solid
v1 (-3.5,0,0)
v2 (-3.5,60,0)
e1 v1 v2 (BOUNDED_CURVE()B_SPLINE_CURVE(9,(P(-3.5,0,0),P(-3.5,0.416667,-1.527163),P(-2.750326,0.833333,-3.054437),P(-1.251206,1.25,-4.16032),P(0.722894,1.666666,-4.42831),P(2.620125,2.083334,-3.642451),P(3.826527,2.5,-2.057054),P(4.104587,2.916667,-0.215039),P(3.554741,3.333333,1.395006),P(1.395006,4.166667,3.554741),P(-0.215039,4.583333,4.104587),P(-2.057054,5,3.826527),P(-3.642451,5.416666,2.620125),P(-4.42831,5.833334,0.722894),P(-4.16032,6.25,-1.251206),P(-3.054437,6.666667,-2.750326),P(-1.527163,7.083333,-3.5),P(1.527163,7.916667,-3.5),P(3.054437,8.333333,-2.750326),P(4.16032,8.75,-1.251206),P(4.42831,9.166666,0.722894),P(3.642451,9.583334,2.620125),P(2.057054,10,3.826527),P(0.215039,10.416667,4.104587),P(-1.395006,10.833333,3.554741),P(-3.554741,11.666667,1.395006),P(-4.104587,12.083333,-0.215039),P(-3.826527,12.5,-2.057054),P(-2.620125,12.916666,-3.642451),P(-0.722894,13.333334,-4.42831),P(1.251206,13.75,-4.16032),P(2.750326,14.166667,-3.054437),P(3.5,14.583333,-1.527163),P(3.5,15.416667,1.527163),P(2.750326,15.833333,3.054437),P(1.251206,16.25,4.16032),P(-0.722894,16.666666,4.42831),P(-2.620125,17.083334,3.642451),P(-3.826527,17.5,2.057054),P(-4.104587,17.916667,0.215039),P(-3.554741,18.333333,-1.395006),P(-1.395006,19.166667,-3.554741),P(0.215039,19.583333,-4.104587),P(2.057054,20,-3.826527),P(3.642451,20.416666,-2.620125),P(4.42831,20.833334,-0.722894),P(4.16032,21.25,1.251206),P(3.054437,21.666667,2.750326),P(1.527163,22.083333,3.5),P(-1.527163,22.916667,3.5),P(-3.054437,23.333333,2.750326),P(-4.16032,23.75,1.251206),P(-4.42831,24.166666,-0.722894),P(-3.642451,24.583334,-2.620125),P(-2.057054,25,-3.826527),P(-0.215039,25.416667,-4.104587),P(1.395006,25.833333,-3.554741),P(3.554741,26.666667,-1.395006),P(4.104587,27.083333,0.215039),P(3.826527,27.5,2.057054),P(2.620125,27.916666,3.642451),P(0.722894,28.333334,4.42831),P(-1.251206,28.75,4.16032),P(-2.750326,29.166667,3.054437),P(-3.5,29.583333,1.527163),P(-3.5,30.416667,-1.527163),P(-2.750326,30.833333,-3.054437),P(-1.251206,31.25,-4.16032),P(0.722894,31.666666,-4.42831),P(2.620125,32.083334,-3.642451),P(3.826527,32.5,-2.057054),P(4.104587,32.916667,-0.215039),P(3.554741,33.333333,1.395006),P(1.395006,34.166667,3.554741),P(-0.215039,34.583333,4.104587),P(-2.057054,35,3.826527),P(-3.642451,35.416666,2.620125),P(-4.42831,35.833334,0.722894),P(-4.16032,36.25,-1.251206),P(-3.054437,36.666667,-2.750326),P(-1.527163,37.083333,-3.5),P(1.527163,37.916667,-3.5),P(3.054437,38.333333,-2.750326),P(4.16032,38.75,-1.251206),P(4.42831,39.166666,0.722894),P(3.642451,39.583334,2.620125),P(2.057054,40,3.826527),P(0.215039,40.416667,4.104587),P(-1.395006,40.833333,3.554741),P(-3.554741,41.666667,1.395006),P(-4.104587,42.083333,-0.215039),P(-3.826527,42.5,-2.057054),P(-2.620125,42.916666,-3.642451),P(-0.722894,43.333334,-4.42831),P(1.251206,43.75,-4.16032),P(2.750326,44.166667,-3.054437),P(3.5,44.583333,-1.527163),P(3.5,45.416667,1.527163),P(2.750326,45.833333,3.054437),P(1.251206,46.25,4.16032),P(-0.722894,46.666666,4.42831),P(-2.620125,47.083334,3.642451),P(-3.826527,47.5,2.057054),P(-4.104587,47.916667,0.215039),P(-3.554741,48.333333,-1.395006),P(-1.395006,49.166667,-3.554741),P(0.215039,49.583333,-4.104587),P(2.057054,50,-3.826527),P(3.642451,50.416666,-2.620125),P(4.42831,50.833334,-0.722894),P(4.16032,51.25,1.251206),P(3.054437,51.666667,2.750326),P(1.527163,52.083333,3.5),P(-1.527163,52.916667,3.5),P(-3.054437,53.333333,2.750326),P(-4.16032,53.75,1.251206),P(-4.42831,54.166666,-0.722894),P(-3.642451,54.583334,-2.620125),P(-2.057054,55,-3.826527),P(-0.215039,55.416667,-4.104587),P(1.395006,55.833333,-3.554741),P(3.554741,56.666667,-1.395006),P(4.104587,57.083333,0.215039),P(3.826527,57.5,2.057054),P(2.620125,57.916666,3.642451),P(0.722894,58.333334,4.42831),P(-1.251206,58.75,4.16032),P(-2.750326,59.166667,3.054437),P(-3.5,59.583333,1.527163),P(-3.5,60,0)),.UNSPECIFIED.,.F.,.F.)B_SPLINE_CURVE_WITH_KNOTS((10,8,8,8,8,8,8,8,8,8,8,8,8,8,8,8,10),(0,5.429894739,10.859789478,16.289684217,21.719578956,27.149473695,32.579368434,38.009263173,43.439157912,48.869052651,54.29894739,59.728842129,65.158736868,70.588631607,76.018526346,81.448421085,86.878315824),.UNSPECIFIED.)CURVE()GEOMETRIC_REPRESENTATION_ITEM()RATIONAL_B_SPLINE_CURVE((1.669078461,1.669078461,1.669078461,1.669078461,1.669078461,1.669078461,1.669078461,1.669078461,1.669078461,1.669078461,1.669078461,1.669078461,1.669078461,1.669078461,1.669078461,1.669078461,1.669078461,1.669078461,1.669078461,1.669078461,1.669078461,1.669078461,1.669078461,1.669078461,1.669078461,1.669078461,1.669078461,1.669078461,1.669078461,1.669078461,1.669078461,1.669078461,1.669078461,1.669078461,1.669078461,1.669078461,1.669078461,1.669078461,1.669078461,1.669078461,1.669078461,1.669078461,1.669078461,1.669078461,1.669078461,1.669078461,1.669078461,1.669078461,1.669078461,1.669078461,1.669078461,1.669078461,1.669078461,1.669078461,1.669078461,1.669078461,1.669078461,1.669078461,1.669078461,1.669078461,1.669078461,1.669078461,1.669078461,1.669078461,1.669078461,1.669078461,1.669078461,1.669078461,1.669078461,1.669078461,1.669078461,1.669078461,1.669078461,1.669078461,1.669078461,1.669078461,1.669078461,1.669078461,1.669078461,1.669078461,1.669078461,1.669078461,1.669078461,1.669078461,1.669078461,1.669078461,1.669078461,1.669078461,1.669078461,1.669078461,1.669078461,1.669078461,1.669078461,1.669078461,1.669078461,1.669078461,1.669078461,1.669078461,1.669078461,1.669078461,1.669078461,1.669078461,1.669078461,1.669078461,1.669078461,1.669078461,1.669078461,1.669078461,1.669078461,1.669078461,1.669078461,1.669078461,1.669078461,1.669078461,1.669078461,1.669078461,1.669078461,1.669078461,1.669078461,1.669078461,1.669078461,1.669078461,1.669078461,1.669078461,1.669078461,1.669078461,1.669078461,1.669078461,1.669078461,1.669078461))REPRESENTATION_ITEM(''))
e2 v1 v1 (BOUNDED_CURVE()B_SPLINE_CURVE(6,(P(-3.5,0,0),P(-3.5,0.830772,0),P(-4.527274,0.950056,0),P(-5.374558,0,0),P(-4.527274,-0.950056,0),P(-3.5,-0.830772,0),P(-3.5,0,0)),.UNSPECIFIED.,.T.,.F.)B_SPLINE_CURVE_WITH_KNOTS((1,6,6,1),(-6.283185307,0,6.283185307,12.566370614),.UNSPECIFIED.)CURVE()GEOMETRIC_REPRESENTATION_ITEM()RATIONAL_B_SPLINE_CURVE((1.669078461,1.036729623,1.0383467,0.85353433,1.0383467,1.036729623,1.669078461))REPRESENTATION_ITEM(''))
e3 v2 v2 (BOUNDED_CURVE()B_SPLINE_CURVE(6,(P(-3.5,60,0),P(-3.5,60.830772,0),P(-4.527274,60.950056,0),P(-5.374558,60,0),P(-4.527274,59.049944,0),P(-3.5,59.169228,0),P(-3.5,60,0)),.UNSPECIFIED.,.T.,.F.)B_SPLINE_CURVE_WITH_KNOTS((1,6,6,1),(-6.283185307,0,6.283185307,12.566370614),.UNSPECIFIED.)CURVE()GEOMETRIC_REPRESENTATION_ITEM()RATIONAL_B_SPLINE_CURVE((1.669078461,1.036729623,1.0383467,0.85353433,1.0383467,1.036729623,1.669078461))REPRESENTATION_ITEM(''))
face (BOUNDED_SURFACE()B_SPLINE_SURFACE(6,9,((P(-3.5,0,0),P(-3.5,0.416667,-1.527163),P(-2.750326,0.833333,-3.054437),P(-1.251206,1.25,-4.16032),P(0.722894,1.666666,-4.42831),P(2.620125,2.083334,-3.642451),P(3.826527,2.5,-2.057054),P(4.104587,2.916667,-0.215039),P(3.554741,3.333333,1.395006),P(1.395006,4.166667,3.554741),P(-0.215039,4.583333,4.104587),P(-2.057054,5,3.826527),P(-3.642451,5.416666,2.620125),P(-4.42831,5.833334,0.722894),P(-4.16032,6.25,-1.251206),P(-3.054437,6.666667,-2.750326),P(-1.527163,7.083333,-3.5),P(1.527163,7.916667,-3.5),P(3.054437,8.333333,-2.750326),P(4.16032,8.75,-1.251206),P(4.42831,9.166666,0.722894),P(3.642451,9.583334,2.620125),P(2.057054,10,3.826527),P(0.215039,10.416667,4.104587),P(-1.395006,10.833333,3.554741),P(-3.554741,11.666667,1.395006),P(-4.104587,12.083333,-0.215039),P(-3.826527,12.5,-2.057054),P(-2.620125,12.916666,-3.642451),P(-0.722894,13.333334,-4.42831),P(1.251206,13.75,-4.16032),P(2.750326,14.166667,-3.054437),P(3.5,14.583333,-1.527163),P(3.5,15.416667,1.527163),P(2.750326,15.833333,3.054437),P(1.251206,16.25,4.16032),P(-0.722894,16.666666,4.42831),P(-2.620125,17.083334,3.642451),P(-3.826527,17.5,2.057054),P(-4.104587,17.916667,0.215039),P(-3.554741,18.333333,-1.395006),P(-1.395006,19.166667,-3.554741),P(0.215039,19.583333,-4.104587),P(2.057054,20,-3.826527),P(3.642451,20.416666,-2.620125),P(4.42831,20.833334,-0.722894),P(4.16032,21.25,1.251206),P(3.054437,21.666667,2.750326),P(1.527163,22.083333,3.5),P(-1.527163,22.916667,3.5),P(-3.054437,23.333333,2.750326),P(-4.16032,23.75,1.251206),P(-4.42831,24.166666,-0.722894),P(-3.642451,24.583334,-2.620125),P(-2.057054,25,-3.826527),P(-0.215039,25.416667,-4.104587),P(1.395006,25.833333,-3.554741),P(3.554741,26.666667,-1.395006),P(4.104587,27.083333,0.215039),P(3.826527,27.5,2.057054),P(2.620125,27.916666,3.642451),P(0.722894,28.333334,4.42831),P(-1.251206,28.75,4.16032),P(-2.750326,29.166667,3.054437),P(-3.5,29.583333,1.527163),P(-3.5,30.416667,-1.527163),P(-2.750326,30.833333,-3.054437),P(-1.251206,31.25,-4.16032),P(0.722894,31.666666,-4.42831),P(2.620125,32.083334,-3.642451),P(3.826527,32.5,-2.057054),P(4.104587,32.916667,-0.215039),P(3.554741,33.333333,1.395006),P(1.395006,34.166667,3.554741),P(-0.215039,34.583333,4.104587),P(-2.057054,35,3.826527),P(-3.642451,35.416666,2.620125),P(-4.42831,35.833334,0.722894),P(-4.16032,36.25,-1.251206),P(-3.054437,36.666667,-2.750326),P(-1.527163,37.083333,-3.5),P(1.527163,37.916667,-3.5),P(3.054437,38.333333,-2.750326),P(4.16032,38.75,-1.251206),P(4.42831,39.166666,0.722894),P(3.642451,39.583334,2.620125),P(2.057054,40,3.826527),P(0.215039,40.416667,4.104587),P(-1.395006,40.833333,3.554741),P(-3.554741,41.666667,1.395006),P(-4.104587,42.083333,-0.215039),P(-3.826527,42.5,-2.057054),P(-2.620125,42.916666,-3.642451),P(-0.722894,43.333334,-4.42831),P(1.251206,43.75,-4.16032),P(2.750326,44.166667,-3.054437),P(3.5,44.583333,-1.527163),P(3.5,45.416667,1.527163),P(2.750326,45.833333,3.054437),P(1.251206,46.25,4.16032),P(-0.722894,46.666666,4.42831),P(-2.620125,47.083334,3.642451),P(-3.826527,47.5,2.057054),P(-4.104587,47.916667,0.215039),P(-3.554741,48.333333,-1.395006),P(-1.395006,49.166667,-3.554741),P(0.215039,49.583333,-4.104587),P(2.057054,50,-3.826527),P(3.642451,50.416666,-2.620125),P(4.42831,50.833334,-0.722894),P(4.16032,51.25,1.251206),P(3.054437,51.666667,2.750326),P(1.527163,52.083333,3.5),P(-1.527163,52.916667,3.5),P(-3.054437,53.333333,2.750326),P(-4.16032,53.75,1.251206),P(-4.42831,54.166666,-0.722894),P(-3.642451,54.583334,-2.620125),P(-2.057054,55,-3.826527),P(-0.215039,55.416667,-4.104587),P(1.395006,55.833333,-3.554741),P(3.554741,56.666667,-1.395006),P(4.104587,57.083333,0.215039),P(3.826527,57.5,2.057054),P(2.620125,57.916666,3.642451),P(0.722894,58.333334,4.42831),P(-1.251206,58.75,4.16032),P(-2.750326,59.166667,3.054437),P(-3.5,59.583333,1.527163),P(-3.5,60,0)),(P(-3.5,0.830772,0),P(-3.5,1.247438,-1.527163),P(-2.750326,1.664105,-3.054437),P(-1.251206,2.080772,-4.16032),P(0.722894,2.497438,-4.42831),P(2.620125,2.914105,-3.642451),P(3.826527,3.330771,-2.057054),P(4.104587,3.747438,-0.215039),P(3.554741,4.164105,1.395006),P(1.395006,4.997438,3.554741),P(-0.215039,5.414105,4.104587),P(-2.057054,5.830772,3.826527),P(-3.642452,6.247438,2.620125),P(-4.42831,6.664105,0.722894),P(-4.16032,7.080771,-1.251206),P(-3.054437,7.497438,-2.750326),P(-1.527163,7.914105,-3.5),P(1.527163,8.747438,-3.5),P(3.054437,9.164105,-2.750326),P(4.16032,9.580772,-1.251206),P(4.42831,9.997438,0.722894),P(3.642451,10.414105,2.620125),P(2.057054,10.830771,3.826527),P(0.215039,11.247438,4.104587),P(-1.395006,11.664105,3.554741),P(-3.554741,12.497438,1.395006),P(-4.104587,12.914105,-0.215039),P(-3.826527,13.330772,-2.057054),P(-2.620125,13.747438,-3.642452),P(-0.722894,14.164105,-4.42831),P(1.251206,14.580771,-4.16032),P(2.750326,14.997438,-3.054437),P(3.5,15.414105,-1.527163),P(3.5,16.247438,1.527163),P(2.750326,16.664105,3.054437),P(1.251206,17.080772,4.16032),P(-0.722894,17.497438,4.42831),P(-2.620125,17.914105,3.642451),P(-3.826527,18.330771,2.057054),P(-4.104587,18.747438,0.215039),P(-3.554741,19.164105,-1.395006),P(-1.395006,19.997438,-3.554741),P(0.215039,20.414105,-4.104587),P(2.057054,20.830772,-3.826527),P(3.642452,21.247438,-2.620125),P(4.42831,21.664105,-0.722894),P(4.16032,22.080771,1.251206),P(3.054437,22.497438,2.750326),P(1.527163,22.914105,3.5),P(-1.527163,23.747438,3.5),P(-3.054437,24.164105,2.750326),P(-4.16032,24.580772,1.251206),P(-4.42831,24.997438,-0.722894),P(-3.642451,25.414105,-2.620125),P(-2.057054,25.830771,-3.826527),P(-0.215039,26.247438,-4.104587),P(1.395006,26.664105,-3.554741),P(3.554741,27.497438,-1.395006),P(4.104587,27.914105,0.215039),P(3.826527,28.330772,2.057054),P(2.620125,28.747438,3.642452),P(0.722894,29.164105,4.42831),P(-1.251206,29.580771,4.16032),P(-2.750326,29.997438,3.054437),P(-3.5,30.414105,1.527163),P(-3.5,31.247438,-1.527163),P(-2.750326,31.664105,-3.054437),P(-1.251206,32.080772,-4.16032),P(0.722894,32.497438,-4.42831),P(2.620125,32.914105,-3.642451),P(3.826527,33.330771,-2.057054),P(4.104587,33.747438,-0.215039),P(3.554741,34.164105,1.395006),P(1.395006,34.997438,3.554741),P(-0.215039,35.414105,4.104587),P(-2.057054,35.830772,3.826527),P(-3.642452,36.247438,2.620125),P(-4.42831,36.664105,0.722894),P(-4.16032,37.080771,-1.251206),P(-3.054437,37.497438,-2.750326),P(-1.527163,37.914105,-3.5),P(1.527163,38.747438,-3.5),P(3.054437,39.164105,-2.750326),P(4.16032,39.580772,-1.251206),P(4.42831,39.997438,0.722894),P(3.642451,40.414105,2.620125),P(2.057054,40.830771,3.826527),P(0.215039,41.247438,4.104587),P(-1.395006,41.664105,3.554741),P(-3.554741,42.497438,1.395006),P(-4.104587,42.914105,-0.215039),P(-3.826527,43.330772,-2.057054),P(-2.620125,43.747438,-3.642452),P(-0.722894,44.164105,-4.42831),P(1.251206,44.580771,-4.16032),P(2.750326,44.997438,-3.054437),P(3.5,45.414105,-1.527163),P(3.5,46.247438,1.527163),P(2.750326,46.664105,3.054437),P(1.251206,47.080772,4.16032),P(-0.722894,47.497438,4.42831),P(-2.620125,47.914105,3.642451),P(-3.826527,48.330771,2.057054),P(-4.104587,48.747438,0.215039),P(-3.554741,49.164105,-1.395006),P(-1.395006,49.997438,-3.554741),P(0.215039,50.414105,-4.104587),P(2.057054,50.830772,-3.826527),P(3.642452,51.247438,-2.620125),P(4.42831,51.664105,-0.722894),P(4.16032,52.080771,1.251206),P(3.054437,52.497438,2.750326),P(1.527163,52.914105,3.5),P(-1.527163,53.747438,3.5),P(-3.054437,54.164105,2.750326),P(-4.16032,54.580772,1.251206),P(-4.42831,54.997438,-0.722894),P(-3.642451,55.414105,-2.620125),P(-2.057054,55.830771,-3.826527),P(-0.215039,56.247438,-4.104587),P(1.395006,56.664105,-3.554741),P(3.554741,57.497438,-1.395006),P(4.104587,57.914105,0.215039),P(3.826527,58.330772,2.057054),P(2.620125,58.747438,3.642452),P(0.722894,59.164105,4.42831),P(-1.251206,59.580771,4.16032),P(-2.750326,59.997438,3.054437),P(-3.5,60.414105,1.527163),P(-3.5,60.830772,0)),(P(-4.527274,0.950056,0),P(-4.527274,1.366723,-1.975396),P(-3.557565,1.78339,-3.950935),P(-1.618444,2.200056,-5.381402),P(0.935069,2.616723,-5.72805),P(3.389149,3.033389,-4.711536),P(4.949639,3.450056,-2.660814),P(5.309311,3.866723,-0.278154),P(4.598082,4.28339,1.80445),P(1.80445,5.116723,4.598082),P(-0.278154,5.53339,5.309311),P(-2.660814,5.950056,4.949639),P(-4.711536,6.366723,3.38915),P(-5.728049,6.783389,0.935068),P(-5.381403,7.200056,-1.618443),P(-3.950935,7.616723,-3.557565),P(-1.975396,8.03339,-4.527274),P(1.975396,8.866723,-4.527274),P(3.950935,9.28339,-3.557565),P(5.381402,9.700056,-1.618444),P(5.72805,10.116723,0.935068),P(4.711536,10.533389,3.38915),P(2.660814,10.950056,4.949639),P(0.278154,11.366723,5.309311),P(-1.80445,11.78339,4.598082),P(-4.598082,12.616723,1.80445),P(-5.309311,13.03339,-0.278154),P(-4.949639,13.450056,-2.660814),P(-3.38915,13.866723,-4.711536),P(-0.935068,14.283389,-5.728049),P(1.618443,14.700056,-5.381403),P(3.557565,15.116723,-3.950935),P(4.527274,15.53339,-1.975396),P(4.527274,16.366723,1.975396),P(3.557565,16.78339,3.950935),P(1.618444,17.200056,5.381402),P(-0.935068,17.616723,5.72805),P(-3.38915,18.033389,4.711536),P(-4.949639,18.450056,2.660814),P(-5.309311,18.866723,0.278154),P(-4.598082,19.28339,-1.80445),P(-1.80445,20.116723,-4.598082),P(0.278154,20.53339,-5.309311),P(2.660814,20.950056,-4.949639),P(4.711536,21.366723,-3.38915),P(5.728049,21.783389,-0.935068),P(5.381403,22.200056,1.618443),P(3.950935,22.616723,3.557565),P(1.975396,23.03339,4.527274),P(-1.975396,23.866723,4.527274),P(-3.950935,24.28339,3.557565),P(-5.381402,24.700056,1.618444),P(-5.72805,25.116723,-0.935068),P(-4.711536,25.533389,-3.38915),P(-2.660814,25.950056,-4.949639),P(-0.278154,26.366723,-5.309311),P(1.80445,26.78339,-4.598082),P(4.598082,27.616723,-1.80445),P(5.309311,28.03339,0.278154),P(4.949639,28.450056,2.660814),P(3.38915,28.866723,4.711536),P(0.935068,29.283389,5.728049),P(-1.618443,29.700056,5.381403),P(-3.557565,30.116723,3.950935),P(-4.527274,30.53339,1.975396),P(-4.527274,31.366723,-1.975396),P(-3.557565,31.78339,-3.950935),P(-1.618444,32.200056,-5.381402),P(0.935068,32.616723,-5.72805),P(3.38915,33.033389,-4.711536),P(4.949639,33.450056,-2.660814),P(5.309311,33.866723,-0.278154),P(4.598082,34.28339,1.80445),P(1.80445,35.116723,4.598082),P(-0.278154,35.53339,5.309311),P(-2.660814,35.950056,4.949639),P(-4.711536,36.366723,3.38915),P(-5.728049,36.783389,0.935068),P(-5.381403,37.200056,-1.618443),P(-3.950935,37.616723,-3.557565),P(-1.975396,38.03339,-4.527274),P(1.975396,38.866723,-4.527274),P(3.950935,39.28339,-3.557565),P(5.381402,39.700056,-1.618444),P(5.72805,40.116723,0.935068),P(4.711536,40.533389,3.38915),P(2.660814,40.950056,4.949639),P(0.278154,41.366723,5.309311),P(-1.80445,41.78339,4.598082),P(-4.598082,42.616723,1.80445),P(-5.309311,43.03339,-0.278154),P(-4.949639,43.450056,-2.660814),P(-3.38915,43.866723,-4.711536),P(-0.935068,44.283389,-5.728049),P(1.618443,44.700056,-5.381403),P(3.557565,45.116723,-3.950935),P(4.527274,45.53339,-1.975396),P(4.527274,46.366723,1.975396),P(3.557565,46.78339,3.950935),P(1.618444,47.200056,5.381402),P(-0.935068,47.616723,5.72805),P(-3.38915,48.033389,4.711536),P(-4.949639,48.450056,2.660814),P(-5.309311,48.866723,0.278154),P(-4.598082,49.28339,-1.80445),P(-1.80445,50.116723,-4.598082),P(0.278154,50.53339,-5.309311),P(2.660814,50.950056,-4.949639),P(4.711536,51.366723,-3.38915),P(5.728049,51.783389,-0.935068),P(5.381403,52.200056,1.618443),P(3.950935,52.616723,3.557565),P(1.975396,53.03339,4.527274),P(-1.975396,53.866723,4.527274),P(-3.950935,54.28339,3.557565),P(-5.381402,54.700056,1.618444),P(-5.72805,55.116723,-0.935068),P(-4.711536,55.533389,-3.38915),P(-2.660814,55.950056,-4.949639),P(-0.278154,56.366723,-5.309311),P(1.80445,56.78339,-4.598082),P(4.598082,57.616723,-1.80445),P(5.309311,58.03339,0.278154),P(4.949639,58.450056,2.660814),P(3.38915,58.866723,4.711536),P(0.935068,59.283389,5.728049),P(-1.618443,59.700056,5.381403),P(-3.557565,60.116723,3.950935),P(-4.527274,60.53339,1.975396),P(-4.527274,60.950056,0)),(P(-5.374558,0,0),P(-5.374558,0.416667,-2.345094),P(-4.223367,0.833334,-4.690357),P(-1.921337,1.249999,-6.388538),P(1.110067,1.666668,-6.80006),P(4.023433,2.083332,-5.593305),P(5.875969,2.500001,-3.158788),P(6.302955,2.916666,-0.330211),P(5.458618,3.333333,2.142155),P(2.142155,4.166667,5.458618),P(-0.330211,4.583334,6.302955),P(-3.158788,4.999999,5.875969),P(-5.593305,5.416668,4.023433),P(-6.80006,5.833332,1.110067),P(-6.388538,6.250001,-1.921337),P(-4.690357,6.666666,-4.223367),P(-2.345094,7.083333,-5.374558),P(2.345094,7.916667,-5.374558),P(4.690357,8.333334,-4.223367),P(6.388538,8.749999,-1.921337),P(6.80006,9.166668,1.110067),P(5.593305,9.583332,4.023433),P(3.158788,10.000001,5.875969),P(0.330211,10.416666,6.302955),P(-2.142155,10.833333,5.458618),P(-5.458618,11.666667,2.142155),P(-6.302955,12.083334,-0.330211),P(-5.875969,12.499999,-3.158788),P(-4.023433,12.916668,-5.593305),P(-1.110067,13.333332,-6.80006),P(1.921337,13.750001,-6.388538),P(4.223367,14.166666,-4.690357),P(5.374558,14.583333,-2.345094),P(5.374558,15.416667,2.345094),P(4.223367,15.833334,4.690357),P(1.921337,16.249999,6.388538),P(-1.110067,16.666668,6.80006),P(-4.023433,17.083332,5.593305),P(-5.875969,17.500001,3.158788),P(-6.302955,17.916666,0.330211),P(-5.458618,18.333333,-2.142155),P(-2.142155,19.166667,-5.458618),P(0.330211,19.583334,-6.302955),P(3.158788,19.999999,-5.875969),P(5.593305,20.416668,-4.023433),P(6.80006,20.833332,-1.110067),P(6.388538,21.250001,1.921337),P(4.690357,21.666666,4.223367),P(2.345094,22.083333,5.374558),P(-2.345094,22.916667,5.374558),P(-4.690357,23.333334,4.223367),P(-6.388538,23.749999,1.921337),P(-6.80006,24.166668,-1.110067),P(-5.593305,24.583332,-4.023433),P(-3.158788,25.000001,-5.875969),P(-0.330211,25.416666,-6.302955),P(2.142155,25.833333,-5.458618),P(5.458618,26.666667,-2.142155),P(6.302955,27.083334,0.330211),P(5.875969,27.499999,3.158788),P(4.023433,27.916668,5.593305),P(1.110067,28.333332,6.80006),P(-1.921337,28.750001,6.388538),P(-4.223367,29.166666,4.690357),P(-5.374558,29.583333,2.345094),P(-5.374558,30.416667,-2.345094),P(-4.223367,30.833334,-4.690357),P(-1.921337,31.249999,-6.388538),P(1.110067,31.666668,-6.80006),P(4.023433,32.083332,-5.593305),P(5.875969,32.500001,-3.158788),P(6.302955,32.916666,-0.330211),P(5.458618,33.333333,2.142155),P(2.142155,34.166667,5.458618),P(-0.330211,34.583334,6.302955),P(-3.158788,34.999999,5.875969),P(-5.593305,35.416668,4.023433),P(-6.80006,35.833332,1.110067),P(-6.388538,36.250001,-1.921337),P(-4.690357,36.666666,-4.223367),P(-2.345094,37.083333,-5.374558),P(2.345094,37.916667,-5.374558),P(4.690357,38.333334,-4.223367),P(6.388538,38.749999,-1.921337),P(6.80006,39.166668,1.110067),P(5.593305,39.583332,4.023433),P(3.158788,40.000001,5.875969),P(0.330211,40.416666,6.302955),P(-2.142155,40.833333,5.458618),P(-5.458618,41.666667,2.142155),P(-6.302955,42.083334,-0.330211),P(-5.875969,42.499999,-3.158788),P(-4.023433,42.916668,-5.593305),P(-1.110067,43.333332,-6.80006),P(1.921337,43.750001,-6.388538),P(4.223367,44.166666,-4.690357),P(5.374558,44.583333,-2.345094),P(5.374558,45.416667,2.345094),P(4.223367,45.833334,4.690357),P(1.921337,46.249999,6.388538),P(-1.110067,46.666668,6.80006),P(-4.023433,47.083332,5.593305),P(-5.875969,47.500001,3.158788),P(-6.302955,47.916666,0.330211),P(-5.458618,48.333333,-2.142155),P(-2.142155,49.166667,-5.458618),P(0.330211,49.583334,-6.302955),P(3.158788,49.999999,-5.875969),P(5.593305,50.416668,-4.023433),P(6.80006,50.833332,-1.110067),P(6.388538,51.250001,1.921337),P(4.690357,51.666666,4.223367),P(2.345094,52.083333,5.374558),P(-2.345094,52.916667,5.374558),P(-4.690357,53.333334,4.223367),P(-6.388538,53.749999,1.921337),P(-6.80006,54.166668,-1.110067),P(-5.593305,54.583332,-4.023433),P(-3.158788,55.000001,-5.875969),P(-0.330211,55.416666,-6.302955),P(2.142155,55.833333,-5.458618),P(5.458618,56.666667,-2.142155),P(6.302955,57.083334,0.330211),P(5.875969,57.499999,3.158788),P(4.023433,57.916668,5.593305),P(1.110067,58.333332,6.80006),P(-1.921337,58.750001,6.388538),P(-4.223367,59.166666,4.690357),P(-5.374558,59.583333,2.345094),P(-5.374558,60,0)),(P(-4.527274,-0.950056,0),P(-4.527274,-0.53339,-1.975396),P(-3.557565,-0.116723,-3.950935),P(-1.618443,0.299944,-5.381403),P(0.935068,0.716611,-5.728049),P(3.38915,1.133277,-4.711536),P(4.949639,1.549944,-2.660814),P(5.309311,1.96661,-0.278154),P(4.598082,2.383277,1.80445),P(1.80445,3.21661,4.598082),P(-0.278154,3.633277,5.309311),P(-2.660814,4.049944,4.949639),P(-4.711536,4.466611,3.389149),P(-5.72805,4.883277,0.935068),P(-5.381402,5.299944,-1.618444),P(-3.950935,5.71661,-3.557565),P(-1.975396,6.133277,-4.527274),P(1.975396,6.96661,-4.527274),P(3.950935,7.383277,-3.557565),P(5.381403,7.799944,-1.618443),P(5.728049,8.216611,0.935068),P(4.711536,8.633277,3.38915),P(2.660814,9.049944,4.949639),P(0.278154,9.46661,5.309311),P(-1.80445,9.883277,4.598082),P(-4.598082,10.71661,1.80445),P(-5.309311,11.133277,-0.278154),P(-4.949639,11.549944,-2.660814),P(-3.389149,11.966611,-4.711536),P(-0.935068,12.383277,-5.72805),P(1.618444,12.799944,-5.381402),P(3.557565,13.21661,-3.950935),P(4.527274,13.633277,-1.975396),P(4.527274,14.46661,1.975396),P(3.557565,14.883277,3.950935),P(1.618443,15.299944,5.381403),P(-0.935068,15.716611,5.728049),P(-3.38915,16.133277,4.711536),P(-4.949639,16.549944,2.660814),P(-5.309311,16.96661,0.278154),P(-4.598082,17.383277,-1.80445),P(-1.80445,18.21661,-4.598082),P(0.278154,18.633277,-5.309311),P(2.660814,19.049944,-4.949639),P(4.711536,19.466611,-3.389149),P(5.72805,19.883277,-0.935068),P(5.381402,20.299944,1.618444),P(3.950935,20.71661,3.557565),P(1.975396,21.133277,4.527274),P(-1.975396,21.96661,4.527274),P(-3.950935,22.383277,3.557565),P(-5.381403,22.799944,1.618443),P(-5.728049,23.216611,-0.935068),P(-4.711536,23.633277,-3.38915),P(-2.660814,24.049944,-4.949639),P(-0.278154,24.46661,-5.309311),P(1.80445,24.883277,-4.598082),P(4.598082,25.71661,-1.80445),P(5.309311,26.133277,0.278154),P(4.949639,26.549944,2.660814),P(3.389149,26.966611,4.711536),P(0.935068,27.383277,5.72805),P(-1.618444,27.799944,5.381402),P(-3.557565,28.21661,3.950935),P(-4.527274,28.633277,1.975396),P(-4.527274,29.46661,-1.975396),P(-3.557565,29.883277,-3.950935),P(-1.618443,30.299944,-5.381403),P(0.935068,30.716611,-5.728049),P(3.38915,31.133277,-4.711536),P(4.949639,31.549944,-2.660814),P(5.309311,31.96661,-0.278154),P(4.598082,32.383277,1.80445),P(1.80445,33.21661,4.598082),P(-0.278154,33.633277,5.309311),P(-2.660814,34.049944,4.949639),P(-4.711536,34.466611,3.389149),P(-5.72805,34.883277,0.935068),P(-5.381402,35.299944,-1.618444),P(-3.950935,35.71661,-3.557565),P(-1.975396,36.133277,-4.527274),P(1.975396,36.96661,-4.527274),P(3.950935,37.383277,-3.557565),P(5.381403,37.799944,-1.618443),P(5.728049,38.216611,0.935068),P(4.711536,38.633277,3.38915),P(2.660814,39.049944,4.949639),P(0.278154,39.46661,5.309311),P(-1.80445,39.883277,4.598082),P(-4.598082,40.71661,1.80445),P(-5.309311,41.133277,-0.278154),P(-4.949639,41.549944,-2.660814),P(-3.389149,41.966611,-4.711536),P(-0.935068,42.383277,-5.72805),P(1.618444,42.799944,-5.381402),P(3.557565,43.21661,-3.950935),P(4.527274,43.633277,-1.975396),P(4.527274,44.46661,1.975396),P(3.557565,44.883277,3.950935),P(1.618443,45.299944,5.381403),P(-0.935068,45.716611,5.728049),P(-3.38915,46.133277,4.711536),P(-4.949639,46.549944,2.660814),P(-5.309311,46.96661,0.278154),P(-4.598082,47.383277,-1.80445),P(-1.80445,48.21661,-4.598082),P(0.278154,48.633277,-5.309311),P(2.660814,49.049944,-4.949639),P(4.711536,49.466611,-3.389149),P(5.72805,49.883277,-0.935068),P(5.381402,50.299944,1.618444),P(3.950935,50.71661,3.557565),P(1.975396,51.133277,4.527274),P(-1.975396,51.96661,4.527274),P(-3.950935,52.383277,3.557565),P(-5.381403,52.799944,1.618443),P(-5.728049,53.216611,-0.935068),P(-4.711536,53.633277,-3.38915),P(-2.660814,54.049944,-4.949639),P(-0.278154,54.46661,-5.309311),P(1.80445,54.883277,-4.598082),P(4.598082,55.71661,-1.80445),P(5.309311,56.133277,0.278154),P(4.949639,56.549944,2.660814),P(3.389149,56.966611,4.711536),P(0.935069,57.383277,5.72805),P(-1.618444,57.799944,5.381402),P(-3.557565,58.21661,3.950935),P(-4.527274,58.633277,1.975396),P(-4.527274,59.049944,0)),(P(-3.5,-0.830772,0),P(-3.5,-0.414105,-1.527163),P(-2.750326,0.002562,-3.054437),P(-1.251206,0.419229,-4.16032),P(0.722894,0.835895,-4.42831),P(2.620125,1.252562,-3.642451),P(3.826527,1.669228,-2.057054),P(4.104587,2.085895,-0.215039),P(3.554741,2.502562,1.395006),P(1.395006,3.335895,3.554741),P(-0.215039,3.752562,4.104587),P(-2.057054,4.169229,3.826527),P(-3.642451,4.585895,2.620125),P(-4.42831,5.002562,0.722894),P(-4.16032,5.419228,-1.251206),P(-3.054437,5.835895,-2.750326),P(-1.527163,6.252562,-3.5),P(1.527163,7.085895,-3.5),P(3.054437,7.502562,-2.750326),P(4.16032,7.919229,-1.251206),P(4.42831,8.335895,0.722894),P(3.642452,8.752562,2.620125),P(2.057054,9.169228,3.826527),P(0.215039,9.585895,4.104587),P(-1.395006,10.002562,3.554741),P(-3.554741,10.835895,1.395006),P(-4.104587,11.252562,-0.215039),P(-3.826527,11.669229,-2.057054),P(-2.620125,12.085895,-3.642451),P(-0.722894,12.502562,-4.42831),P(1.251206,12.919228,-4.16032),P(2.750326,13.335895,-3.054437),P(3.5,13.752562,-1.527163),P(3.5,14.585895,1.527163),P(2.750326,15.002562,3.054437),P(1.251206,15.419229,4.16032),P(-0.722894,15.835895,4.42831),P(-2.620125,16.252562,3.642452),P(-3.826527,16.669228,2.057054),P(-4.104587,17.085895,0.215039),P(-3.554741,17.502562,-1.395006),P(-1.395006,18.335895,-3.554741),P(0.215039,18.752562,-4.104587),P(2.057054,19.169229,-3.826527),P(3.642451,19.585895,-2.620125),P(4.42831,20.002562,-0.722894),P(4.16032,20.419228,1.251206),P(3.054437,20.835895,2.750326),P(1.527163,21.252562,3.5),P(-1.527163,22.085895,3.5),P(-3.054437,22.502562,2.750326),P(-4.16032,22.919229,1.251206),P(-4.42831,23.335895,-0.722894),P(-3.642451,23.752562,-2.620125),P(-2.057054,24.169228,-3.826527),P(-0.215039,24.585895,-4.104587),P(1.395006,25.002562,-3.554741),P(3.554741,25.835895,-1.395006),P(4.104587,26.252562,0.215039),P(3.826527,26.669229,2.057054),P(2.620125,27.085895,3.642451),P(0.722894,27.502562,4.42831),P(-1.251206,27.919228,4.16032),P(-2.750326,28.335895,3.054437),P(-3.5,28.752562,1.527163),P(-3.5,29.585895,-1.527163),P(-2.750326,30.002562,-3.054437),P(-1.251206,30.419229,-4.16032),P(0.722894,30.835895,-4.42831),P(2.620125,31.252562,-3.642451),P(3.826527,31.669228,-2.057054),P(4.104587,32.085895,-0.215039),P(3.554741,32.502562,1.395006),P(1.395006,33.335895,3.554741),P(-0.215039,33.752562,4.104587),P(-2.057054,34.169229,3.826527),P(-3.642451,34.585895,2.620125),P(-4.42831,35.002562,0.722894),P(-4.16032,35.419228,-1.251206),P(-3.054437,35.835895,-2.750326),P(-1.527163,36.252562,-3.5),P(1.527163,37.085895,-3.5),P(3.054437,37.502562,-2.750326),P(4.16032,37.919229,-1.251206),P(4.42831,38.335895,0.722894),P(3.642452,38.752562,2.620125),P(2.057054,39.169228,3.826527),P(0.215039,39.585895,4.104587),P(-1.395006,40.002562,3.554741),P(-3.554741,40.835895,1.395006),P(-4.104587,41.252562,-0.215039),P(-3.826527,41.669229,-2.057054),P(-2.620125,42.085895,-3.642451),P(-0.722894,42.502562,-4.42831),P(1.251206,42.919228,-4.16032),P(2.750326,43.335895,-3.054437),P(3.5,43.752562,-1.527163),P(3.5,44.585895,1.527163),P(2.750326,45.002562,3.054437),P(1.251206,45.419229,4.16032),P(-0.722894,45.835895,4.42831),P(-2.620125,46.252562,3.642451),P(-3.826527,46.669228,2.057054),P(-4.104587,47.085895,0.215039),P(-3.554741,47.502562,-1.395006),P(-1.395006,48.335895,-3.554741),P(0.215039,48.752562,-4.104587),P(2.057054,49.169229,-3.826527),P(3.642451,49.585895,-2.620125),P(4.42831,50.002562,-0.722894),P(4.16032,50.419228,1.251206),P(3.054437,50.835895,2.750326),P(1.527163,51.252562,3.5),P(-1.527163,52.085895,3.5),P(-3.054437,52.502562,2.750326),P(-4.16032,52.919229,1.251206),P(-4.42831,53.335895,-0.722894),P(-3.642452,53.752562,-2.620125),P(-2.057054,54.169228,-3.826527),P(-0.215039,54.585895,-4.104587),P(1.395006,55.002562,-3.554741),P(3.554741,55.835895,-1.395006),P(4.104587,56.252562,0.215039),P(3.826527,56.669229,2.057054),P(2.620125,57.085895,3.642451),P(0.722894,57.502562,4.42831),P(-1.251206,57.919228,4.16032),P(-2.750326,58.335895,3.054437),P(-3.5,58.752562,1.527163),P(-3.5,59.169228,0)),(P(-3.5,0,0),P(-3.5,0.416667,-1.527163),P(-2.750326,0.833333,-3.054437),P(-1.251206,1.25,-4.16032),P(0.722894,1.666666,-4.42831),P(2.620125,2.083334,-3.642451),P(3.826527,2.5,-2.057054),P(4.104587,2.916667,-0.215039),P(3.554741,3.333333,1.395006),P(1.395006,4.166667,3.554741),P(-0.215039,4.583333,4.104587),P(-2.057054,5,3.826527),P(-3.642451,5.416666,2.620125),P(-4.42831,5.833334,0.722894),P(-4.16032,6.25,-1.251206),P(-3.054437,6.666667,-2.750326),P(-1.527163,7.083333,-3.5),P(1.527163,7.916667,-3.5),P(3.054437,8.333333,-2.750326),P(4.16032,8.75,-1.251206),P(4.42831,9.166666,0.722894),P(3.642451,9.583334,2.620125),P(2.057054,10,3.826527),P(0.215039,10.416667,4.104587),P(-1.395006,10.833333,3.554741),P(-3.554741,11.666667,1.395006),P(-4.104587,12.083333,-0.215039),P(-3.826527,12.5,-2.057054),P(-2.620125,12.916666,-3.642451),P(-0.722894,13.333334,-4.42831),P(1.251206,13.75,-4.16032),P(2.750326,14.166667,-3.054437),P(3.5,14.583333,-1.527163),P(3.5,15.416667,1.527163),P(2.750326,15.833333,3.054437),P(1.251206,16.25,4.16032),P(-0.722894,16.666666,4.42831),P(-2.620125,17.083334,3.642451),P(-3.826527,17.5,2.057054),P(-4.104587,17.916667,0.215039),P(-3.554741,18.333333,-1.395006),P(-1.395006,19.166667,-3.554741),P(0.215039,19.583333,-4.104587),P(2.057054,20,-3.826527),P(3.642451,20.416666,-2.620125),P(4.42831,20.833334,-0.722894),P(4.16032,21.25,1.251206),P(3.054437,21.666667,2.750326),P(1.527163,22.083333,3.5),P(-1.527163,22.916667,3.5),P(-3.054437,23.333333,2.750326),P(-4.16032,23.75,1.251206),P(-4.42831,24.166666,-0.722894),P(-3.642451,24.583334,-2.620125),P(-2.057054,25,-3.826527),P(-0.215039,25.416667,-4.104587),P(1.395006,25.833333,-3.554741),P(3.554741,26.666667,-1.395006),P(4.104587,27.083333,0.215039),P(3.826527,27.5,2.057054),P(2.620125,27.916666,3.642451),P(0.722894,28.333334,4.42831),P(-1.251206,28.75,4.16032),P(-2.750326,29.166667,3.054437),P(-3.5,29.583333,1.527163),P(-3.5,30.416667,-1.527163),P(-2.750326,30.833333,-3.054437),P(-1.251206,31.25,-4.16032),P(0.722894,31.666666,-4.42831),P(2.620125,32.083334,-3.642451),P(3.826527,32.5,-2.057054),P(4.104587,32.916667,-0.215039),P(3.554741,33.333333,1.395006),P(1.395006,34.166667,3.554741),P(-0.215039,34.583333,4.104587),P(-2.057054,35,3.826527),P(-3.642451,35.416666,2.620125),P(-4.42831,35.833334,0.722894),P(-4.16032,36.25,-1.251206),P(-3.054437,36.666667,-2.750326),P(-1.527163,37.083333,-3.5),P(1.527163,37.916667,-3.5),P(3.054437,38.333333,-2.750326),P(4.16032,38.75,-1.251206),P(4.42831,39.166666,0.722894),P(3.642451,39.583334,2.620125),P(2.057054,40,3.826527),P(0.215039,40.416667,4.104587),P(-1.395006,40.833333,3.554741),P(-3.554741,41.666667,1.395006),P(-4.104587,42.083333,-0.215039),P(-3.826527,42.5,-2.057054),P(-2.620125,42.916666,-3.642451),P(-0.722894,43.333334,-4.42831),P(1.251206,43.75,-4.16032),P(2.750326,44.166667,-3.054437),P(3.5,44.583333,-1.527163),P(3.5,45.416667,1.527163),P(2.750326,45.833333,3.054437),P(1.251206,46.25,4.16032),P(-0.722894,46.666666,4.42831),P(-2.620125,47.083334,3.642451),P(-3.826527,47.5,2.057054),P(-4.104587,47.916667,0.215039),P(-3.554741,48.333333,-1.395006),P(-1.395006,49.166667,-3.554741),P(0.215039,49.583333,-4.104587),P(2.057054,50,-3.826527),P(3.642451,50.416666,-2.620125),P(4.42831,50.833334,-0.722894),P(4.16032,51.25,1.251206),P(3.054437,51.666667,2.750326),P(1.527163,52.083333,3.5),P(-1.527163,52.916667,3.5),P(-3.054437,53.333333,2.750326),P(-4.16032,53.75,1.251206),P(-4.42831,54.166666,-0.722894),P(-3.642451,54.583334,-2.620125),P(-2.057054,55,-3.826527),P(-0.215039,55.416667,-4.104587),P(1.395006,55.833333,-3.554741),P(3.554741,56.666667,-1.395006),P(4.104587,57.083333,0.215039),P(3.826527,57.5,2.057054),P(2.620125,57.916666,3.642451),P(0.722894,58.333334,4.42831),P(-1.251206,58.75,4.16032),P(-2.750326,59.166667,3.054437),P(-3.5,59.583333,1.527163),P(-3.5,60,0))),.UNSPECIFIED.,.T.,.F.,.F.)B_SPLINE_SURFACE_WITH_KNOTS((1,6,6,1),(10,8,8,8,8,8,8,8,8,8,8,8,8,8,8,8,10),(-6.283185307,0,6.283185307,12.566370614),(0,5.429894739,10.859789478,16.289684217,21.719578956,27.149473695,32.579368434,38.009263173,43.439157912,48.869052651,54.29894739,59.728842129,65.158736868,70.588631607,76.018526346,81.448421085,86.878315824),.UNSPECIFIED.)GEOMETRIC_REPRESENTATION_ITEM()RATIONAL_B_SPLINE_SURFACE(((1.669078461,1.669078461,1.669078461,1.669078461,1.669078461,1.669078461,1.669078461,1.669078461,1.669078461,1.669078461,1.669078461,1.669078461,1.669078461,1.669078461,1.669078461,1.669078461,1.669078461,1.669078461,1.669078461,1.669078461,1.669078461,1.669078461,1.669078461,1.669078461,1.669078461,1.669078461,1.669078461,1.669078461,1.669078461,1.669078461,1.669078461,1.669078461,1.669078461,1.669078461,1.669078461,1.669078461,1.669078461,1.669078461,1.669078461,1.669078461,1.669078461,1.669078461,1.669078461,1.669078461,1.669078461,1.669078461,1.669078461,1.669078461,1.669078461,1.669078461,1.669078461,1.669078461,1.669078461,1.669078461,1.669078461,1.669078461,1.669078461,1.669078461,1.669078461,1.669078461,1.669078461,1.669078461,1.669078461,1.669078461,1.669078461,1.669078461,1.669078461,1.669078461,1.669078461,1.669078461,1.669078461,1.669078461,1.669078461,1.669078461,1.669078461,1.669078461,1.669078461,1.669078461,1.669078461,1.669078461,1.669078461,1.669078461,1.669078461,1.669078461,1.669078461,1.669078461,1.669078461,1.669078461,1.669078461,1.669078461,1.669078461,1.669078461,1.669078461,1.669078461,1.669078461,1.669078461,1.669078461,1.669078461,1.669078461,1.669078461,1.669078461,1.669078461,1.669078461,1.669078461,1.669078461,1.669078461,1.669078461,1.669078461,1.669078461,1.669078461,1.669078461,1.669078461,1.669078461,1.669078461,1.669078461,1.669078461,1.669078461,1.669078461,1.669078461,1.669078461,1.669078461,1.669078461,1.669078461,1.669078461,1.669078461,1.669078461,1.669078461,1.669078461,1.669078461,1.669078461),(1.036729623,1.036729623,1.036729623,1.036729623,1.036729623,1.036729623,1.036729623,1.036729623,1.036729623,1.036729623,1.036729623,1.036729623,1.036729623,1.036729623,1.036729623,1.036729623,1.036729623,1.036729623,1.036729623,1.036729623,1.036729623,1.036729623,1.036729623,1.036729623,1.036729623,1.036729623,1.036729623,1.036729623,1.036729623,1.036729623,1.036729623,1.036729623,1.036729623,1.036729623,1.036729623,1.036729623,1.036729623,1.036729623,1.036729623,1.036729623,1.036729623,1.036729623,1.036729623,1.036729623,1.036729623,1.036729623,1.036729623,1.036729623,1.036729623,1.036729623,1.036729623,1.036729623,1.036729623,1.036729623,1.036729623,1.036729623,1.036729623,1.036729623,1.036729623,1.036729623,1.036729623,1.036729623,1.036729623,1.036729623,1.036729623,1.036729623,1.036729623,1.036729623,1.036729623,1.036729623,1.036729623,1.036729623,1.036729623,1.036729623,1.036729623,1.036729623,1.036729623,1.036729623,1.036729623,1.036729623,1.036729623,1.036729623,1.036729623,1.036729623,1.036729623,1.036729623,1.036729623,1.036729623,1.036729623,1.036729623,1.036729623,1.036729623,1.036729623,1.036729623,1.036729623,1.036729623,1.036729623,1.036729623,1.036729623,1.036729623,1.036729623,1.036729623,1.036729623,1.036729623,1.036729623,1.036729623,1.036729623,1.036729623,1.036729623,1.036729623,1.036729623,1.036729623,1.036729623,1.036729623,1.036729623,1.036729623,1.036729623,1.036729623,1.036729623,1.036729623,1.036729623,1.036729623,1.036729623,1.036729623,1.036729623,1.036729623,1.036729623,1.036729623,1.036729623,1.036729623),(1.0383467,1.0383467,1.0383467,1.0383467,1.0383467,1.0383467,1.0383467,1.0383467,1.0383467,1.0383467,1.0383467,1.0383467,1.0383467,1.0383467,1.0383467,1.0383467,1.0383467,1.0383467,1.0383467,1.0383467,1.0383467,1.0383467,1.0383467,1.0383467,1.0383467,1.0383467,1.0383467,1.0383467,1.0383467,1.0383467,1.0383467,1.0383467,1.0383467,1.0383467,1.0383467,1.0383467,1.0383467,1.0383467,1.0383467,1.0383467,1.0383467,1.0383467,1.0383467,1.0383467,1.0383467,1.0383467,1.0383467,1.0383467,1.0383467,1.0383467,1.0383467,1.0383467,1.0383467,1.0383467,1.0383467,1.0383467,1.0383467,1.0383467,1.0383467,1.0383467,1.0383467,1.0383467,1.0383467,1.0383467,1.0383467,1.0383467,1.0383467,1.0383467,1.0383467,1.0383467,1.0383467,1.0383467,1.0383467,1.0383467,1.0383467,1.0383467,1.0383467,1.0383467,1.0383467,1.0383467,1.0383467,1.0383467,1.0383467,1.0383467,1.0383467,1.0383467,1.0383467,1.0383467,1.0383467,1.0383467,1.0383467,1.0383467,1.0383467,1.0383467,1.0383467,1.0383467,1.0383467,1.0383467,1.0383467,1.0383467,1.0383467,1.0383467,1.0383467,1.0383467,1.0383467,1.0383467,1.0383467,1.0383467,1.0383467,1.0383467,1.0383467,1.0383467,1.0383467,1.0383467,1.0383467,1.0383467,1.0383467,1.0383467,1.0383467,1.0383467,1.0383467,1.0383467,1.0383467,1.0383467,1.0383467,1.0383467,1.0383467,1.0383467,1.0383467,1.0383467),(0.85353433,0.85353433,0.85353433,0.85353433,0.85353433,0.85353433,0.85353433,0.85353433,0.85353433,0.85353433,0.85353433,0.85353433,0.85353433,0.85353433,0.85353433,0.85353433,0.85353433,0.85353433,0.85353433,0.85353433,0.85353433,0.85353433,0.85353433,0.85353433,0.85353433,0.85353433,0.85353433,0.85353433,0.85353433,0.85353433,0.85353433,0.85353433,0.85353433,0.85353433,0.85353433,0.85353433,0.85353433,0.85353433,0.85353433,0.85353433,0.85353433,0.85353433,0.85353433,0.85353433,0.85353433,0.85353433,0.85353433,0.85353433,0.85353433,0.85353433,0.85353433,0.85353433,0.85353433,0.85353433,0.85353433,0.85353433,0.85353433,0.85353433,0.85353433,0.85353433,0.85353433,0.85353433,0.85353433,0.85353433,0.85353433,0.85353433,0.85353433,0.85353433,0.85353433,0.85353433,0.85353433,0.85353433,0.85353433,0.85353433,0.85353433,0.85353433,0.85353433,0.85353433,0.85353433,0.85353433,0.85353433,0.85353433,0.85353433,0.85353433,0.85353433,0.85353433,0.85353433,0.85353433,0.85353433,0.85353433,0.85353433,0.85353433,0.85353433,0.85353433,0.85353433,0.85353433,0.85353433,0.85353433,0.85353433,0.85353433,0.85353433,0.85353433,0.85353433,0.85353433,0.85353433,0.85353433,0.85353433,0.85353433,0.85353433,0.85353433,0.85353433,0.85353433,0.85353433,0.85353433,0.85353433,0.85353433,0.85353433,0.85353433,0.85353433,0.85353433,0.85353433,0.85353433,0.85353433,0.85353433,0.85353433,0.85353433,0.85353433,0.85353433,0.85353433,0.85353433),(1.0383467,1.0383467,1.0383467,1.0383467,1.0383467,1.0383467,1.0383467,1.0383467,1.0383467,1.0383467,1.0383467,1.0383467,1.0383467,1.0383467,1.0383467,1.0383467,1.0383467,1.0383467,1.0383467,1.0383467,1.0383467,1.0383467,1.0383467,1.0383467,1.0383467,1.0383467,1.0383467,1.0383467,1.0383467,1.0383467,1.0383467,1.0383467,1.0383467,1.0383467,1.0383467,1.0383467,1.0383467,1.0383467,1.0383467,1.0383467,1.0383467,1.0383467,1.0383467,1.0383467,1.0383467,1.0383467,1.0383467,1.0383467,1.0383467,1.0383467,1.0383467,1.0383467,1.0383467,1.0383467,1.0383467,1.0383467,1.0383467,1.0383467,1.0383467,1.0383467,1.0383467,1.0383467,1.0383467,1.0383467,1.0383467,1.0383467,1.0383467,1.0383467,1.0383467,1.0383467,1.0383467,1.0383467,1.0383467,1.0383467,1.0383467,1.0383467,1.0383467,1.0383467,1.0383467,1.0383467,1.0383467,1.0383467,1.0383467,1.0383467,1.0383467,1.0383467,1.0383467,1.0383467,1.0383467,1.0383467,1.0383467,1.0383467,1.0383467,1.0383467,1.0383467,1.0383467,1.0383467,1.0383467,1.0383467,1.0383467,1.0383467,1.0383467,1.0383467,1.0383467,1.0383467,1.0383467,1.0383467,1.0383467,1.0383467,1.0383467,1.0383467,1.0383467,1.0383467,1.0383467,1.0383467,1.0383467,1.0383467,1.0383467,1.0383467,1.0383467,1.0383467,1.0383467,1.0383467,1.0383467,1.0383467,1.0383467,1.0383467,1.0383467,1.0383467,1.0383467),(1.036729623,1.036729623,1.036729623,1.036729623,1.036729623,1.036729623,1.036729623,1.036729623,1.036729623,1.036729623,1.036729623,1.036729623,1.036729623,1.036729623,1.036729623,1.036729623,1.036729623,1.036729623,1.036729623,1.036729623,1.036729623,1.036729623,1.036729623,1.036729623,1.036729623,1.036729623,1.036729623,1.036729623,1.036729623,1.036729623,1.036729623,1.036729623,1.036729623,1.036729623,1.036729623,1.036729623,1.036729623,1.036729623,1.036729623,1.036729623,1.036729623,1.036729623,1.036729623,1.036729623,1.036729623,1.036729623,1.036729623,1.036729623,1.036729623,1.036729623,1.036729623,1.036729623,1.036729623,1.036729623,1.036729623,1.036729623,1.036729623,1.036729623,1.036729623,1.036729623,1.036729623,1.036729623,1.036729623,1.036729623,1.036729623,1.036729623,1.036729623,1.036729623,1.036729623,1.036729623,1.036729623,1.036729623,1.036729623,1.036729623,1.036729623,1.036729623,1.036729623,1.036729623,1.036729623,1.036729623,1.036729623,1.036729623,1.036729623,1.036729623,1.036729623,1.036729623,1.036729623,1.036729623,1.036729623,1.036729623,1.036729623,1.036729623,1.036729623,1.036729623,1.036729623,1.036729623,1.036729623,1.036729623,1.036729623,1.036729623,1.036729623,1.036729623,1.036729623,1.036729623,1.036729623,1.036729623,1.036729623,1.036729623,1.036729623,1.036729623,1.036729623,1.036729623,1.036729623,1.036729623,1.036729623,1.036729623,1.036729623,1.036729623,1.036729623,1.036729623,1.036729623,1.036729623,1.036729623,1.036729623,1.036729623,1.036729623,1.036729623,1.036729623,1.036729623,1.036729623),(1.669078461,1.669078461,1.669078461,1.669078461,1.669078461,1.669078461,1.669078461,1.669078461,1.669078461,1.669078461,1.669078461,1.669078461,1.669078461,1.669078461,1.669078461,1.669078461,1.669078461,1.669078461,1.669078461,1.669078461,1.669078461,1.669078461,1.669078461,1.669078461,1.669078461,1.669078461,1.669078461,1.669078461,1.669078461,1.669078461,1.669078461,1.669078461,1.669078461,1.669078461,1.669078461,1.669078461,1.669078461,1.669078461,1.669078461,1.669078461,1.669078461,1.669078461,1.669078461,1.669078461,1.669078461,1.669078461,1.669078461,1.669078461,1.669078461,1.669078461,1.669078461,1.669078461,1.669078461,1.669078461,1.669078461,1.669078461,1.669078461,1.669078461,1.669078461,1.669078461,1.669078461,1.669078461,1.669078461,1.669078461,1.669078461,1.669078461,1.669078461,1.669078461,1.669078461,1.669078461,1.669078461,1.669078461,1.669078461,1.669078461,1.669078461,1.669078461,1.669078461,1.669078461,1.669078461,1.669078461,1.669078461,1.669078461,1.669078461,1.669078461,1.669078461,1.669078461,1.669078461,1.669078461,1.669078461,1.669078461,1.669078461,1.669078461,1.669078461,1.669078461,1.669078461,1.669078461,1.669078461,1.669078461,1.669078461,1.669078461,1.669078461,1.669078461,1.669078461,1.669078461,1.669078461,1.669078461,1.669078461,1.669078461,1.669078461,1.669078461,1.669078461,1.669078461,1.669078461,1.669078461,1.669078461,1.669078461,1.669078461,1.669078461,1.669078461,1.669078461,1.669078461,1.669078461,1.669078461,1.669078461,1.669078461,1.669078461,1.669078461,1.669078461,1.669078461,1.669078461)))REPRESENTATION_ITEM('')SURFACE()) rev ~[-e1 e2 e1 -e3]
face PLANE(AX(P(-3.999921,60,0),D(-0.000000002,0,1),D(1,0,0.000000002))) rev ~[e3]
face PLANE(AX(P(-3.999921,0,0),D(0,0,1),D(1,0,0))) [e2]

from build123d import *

# Parameters (mm, degrees)
BALAYAGE1_PITCH       = 6
BALAYAGE1_HEIGHT      = 60
BALAYAGE1_RADIUS      = 4
BALAYAGE1_START_ANGLE = -90
ESQUISSE2_R           = 0.5


with BuildPart() as part:
    # Balayage1: sweep along a helix
    with BuildLine() as balayage1_path:
        add(Helix(BALAYAGE1_PITCH, BALAYAGE1_HEIGHT, BALAYAGE1_RADIUS, center=(0, 0, 0), direction=(0, 1, 0), lefthand=True, mode=Mode.PRIVATE).rotate(Axis((0, 0, 0), (0, 1, 0)), BALAYAGE1_START_ANGLE))
    # Esquisse2 → Balayage1 (sweep)
    with BuildSketch(Plane.XY):
        with Locations((-4, 0)):
            Circle(ESQUISSE2_R)
    sweep(path=balayage1_path.line, is_frenet=True)


solid = part.part
